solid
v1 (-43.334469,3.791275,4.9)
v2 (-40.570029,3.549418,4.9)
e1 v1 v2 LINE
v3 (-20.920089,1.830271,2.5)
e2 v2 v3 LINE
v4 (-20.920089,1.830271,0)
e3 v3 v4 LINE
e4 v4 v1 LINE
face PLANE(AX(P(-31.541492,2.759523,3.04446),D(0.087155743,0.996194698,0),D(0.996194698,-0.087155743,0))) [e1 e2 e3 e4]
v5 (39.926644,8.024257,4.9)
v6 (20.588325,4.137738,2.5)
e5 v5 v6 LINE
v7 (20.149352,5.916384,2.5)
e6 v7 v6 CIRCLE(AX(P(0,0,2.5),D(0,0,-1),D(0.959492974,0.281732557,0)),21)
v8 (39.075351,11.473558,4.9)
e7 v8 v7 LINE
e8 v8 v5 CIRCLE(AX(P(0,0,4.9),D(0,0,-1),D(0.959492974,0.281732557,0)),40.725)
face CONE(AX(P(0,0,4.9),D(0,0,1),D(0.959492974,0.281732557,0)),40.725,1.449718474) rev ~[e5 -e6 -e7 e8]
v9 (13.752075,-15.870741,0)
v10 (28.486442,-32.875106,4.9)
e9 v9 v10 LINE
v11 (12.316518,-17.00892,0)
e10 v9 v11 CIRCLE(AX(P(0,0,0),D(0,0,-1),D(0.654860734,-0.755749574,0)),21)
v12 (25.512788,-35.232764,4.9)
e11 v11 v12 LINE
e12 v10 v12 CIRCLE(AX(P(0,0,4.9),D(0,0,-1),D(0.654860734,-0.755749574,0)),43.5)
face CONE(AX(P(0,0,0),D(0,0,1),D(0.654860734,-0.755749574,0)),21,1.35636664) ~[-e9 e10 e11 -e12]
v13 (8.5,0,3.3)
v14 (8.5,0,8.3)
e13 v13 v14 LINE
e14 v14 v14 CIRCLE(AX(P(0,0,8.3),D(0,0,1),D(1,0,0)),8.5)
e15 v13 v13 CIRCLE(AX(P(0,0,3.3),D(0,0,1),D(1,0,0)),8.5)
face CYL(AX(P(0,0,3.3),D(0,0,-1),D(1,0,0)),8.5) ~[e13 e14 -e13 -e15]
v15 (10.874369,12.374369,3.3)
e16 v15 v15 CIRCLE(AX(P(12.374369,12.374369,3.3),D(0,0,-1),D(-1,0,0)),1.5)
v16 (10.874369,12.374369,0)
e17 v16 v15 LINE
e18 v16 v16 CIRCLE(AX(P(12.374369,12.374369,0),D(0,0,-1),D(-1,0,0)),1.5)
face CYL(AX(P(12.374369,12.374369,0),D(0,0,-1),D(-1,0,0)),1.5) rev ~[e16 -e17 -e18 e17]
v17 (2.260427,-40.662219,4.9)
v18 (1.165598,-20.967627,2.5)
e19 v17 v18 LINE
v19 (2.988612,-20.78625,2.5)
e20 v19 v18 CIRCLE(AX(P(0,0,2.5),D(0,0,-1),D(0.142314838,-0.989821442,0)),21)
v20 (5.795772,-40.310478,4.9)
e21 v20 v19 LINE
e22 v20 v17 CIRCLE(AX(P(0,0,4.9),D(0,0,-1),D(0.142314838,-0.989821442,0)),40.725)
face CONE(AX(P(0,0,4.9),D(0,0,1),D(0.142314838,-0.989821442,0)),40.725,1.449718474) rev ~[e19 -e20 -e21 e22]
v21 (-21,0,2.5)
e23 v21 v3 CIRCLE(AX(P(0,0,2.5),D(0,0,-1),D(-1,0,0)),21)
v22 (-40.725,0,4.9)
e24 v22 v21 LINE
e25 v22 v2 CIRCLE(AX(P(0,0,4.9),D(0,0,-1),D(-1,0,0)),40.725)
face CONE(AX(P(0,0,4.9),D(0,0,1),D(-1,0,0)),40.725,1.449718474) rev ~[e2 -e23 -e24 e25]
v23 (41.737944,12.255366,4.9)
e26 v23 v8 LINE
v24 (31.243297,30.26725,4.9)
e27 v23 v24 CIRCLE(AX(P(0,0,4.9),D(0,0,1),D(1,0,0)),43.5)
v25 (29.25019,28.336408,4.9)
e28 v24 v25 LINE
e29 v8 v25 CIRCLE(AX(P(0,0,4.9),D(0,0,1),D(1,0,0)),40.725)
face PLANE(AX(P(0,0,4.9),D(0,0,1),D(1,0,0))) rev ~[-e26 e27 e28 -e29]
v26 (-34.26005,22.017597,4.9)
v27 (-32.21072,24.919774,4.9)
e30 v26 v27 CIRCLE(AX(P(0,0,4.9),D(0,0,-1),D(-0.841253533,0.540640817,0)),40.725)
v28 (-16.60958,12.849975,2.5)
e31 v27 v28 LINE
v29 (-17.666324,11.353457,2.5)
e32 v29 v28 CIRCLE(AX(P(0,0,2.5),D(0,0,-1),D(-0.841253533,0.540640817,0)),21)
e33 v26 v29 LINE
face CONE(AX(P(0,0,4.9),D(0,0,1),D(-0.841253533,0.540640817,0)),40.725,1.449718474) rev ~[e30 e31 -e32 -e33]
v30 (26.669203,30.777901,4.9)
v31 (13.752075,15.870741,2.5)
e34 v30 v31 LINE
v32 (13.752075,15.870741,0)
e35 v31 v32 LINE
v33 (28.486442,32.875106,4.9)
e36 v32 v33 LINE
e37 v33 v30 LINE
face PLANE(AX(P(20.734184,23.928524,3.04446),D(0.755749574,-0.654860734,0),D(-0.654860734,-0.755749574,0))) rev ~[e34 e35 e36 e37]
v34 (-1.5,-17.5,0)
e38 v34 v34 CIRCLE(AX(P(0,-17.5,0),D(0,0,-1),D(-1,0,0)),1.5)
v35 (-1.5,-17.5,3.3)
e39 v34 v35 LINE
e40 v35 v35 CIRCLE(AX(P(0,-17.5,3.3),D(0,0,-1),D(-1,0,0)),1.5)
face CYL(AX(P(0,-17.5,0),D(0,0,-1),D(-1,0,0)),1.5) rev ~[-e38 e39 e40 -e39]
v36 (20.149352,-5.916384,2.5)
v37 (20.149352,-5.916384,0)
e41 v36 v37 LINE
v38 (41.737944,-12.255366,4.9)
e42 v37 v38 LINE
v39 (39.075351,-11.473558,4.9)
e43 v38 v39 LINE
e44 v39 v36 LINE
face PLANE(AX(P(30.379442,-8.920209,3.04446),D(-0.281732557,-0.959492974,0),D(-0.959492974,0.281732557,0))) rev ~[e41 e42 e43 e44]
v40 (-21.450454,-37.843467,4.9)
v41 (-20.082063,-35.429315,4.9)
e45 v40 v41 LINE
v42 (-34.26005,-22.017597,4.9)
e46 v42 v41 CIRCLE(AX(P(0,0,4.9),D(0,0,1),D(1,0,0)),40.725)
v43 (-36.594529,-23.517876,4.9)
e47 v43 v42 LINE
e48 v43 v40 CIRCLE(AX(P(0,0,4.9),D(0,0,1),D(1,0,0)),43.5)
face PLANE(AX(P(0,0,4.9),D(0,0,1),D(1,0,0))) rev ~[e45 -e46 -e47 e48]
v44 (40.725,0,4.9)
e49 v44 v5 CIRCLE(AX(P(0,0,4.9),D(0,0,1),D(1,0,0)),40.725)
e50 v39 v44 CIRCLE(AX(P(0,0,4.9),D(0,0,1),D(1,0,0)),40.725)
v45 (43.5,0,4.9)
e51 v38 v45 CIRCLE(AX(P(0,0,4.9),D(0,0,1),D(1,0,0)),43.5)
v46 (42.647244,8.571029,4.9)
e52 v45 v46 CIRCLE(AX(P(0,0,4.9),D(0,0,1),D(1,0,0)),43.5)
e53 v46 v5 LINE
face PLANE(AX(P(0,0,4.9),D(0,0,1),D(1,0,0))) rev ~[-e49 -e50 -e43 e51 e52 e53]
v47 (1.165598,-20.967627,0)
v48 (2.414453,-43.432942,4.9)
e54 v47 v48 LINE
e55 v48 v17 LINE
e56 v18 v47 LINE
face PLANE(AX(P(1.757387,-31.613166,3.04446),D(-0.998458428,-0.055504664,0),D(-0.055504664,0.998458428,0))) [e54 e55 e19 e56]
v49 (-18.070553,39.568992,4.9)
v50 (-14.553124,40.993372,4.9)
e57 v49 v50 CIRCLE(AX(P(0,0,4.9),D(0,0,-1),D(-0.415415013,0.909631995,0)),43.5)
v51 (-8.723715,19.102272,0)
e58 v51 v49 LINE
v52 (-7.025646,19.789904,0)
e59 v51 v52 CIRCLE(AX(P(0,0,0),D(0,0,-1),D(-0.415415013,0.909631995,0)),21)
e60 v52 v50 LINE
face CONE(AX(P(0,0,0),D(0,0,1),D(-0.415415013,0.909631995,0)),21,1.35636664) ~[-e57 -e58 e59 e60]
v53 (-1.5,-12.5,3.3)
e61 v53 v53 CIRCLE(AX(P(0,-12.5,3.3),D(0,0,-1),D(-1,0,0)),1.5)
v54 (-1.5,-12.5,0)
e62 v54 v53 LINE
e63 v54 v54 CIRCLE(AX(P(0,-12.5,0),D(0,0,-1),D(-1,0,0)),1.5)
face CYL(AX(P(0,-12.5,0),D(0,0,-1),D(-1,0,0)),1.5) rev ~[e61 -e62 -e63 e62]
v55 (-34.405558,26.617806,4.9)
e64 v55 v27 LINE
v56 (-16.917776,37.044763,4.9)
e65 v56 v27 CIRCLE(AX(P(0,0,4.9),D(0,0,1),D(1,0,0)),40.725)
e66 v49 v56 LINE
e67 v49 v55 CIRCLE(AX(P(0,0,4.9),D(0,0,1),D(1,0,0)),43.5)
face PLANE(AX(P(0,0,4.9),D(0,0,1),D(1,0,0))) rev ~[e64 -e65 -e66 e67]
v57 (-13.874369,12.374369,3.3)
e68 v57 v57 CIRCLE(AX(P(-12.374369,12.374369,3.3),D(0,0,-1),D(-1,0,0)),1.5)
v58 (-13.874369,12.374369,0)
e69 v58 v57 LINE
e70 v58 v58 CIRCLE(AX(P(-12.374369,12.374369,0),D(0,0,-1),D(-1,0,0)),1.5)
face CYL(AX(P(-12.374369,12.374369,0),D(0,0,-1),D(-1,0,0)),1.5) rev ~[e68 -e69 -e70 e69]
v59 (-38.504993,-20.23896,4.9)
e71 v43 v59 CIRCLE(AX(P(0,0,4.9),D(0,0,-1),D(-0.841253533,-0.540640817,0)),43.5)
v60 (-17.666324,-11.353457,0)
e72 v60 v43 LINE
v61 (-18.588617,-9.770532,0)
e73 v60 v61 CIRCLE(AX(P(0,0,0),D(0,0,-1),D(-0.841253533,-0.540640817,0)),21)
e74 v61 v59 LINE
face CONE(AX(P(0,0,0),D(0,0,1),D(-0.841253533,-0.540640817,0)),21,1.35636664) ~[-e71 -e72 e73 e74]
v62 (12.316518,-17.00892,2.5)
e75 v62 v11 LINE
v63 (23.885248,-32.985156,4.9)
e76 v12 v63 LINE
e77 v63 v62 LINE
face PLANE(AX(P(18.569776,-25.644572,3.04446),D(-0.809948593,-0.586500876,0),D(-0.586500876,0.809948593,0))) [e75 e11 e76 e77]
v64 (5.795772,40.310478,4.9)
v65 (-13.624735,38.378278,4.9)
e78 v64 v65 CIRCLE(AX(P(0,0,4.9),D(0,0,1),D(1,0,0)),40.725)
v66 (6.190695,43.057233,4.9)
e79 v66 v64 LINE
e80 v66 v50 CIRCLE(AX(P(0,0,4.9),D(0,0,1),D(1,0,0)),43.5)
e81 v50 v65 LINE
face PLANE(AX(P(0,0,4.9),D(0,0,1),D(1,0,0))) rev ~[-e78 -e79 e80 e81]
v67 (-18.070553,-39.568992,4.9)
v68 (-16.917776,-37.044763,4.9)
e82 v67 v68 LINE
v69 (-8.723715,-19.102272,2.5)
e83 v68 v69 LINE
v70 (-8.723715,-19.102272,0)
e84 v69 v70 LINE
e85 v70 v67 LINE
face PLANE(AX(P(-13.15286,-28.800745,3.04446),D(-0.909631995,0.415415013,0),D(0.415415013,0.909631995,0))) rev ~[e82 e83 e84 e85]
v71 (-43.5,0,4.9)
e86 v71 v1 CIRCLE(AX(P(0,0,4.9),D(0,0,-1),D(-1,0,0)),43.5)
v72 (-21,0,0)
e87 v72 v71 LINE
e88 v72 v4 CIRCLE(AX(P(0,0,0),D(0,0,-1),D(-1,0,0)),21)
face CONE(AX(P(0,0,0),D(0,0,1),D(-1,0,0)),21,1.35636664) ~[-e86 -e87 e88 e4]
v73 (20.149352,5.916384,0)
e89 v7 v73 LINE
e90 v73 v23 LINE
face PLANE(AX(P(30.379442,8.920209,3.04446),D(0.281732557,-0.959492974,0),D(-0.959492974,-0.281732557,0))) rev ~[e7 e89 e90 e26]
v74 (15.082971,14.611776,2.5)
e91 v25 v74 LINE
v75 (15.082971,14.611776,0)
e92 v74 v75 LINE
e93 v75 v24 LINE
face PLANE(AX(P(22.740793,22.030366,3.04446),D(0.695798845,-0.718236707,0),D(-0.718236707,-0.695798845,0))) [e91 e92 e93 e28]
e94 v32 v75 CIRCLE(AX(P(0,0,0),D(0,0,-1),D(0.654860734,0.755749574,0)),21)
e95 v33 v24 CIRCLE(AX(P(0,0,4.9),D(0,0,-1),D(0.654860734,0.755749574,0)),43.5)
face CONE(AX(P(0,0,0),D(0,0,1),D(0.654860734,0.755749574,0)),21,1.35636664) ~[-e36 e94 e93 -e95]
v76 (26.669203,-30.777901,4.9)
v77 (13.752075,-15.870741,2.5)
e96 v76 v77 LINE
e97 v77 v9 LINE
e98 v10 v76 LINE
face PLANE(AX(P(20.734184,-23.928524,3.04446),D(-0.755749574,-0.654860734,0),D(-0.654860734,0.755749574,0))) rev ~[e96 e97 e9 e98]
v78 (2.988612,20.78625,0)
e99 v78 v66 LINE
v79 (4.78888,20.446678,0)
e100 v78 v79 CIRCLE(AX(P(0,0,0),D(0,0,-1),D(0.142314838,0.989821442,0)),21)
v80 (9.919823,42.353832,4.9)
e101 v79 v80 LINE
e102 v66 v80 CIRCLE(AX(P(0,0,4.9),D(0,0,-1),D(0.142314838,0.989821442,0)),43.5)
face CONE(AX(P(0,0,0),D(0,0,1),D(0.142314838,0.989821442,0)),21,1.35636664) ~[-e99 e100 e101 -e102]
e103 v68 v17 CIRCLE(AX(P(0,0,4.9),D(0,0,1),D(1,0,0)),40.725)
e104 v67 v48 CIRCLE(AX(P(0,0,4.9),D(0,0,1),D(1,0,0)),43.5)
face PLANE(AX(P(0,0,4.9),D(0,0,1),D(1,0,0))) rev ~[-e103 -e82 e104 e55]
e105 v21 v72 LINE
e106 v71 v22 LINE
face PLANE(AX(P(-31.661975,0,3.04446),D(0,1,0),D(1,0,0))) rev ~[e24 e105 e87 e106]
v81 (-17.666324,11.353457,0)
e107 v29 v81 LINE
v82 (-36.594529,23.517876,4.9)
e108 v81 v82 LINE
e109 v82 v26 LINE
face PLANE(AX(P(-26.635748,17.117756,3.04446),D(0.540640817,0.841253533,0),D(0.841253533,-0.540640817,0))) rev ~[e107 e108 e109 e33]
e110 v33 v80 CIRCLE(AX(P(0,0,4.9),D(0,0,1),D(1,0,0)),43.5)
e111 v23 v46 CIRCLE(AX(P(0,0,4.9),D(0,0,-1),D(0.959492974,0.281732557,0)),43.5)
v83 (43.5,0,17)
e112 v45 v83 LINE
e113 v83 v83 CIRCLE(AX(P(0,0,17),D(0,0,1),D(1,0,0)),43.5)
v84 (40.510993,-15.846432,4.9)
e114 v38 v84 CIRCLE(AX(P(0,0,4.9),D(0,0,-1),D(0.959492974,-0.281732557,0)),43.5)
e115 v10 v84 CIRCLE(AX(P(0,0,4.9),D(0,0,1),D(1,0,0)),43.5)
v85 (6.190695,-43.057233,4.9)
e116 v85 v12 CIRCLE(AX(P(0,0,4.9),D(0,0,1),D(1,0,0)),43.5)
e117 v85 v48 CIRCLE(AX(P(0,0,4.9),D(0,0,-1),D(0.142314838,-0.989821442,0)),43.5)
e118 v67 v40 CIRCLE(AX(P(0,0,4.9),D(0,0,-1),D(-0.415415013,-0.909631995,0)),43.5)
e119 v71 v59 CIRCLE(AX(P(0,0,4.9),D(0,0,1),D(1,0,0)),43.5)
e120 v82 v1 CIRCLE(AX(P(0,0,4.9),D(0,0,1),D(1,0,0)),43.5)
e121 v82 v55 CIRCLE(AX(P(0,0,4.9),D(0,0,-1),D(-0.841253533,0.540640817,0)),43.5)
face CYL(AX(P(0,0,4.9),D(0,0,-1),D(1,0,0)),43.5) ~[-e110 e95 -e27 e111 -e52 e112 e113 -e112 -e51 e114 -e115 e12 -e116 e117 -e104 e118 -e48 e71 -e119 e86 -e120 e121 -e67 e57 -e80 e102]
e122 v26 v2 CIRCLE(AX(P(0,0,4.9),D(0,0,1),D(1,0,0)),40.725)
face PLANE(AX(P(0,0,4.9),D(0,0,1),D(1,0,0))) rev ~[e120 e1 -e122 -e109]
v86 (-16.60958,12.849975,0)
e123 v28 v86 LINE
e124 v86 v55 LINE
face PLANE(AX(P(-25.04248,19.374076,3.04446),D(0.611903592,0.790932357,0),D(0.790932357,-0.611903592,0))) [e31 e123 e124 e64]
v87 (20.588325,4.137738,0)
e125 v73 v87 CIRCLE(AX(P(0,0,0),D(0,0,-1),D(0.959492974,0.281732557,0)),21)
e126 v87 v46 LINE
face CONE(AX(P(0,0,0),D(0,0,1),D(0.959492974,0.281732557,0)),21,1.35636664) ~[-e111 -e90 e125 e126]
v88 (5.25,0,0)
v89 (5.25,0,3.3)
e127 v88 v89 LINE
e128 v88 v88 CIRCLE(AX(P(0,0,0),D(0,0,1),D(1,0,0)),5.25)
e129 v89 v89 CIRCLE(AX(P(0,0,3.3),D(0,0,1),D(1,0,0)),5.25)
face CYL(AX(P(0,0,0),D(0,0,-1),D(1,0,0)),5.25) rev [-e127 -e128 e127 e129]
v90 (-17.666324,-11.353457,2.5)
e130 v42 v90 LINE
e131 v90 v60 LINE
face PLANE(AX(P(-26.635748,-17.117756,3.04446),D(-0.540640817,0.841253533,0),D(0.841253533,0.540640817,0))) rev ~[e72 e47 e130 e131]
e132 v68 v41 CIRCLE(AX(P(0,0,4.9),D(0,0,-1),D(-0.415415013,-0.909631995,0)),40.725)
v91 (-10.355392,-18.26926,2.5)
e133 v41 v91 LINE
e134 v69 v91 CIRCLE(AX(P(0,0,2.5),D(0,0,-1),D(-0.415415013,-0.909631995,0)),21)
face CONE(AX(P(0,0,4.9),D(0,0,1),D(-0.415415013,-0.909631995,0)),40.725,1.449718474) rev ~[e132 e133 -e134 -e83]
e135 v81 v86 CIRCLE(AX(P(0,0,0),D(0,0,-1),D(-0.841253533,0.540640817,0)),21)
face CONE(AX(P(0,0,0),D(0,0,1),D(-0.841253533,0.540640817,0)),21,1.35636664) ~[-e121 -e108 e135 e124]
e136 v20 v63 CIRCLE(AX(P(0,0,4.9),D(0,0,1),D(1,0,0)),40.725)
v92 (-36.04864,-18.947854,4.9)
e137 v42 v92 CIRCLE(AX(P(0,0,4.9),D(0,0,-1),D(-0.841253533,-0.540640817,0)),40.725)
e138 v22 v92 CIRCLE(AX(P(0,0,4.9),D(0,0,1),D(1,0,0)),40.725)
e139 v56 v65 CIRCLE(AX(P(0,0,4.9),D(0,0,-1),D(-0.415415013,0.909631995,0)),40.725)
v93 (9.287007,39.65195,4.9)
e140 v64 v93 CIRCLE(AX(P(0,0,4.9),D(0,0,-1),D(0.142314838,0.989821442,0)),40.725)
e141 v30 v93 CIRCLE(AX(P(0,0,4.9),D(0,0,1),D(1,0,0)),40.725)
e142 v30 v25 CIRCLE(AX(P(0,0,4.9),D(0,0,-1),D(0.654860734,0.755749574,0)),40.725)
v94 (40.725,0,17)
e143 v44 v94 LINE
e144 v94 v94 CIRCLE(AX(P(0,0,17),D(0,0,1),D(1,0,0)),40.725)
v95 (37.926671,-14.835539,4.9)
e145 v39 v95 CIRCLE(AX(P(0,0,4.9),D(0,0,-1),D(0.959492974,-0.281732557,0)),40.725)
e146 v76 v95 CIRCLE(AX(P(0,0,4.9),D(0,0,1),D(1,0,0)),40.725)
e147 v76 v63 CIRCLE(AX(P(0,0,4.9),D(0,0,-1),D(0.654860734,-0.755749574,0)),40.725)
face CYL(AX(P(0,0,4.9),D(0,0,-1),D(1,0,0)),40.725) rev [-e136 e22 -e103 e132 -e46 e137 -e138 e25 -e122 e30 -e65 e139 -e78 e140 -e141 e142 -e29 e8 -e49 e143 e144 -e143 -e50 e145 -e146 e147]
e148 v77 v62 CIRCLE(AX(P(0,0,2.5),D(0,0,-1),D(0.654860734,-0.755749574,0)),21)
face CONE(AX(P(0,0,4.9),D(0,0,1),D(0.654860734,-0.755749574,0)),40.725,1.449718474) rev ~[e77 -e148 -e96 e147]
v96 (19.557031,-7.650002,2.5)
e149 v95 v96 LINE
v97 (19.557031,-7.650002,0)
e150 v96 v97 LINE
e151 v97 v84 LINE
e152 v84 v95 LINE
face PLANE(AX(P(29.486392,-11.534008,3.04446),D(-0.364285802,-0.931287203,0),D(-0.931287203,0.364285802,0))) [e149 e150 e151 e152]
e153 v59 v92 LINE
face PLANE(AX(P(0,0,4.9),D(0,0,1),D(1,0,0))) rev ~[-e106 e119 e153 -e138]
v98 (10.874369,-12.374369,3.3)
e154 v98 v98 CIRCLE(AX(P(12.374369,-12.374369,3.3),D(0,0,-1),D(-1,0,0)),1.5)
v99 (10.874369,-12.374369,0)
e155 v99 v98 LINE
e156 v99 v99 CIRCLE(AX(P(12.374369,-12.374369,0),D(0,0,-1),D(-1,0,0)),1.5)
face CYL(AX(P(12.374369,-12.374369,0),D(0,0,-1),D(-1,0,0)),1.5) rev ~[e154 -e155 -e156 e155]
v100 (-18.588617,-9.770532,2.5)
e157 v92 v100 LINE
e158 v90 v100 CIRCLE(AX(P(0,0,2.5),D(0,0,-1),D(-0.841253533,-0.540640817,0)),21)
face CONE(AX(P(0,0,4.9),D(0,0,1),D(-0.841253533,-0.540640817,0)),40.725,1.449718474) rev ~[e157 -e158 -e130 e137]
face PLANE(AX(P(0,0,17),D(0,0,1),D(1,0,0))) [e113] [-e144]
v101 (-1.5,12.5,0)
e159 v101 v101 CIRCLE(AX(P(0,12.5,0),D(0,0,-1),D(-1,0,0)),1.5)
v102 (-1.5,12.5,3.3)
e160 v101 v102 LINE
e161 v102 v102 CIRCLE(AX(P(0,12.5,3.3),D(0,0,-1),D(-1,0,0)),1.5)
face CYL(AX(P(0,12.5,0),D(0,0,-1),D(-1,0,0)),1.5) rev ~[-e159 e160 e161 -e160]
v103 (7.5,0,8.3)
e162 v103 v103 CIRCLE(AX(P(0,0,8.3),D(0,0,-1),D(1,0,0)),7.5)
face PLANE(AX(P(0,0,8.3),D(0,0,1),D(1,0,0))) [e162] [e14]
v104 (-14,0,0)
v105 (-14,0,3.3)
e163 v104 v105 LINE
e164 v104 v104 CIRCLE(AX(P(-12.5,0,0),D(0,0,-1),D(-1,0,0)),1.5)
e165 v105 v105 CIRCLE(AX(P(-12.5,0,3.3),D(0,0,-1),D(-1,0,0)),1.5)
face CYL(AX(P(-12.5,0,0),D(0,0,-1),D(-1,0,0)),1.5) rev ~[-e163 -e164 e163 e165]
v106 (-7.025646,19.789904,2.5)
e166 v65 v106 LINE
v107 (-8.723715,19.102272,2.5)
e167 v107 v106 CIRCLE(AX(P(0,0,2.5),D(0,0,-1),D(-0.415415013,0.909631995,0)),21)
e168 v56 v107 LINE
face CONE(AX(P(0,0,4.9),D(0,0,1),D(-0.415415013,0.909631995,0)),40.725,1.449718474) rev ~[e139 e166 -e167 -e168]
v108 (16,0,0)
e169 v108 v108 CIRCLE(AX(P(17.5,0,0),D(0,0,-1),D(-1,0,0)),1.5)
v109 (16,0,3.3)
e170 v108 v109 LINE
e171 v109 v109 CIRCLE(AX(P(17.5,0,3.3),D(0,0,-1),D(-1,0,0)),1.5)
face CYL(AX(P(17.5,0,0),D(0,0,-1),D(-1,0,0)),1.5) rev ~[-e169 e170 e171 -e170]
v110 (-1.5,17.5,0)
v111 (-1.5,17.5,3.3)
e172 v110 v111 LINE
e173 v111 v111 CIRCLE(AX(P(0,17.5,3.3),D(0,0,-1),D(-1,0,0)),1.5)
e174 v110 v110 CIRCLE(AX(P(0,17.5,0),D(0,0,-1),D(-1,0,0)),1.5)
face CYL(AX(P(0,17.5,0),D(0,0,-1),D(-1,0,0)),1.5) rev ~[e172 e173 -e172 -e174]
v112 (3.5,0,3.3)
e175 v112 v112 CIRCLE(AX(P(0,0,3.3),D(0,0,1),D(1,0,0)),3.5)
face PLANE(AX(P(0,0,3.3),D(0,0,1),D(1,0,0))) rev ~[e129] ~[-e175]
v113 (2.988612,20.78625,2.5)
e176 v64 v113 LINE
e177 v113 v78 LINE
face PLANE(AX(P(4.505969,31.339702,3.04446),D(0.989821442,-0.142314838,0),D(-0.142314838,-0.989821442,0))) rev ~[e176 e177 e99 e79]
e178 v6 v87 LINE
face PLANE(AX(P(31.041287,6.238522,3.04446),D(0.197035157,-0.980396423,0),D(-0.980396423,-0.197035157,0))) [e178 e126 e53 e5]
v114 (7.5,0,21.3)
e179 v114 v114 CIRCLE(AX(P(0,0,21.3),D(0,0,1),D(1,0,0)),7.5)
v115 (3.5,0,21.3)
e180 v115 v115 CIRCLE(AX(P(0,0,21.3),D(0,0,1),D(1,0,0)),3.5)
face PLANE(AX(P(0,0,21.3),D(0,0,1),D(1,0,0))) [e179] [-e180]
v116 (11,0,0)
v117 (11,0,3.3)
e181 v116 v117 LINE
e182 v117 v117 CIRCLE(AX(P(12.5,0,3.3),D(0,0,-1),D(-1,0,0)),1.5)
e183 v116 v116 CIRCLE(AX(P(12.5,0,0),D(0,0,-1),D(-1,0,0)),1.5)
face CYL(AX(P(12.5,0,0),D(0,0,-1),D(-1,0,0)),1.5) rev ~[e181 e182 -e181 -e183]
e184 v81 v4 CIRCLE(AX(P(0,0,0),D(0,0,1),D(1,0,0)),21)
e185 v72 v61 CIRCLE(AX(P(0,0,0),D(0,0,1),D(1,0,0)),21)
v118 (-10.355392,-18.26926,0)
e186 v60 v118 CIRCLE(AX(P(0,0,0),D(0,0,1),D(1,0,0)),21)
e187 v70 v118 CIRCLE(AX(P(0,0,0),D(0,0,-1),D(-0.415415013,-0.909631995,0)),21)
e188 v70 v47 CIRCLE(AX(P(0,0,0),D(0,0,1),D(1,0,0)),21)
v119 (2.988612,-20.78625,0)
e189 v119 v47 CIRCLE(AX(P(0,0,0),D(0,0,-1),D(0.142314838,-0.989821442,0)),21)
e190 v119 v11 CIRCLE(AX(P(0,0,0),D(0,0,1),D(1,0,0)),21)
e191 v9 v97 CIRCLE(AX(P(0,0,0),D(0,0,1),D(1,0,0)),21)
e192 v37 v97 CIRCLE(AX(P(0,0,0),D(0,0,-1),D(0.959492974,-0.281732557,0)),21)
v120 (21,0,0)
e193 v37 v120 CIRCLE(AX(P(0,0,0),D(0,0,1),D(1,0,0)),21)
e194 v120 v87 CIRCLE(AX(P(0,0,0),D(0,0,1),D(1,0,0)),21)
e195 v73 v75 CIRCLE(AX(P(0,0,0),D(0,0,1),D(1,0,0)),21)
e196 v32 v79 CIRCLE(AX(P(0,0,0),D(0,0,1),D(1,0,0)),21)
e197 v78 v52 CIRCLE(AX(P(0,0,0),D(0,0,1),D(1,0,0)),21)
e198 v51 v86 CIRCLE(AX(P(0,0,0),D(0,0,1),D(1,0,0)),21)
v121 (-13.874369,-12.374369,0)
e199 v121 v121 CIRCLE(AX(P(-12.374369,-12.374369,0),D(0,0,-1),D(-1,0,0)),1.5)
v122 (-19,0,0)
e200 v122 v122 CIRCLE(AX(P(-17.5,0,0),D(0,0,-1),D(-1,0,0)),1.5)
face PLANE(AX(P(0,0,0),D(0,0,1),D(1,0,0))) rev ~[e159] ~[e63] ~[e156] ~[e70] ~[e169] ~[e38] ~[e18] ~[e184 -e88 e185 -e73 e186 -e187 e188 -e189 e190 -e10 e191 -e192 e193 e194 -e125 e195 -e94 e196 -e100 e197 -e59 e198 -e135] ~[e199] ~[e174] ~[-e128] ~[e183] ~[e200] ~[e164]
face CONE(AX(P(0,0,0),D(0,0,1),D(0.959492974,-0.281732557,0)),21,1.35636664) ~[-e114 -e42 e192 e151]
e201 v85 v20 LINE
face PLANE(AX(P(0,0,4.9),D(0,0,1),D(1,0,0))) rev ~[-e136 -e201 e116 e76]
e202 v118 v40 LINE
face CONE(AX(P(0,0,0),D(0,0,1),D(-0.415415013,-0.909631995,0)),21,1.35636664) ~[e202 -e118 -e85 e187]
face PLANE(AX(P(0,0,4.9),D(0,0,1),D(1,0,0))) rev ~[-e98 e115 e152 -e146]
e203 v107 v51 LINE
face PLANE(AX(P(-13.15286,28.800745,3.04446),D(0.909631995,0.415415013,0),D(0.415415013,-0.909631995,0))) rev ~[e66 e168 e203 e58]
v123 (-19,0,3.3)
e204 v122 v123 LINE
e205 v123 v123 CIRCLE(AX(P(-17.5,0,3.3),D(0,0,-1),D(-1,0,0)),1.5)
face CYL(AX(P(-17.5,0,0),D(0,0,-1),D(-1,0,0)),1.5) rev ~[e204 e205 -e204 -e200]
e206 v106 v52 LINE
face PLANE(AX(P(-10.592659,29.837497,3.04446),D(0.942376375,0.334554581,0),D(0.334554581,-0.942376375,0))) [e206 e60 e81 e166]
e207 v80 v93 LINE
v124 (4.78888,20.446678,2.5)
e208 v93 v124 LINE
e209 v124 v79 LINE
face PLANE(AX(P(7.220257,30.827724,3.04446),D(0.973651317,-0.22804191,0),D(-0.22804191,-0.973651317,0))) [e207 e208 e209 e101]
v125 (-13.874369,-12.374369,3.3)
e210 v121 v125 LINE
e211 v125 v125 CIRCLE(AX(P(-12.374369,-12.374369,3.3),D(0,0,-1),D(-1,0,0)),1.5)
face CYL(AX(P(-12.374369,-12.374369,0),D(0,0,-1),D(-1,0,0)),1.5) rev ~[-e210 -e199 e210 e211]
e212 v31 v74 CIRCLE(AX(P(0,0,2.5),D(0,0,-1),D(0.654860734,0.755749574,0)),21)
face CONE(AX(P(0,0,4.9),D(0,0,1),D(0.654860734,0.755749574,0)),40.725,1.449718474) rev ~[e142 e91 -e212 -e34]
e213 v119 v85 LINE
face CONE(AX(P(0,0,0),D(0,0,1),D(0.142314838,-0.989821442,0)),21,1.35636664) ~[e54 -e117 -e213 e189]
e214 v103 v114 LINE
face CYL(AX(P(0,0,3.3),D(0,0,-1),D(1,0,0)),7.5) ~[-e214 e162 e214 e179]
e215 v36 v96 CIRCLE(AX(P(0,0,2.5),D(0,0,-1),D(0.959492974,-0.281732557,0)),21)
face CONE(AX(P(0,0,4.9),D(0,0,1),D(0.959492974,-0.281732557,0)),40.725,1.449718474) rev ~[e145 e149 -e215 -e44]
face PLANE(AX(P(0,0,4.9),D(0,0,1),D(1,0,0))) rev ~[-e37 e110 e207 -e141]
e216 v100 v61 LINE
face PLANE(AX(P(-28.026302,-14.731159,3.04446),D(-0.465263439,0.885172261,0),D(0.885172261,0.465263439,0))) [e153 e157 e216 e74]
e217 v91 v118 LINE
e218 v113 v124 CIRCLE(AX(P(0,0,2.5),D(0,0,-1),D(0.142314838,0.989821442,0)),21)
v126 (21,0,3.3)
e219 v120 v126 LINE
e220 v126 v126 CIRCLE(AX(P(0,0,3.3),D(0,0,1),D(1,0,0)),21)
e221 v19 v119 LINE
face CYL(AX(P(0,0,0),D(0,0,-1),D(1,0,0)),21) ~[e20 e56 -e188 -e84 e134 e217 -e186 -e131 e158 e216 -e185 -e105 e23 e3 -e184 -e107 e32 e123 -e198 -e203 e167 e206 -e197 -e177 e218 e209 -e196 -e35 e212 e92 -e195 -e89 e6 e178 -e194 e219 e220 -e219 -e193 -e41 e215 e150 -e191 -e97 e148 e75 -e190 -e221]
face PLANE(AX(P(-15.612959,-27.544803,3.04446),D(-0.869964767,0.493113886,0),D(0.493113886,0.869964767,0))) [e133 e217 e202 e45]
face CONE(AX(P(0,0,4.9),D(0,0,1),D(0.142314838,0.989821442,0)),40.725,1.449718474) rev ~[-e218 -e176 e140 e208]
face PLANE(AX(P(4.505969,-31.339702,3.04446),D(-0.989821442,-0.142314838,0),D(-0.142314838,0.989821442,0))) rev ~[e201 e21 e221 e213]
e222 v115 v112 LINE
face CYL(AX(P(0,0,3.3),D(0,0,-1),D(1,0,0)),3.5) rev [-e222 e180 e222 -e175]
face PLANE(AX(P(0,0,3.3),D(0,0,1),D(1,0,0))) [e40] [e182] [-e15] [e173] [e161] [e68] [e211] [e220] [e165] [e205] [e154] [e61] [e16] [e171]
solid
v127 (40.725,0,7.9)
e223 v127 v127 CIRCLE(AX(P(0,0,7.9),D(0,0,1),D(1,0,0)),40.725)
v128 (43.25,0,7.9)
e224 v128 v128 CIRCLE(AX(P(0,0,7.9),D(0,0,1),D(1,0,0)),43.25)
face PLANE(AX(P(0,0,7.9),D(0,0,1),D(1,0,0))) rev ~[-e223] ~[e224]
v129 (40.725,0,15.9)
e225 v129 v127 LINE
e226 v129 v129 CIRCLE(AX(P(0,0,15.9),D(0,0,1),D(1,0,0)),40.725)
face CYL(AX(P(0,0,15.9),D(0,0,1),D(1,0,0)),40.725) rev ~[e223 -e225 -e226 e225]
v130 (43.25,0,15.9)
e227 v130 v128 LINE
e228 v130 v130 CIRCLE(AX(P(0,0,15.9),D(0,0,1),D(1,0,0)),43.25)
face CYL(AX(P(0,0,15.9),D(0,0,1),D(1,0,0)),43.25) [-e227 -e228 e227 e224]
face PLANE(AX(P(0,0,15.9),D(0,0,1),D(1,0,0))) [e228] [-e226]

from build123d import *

# Parameters (mm, degrees)
BOSS_EXTRUDE1_START = 4.9
SKETCH1_R           = 43.5
SKETCH1_R_2         = 40.725
BOSS_EXTRUDE1_DEPTH = 12.1
SKETCH1_4_R         = 21
SKETCH1_4_R_2       = 7.5
SKETCH1_4_R_3       = 5.25
BOSS_EXTRUDE2_DEPTH = 3.3
REVOLVE1_ANGLE      = 5
CIRPATTERN1_COUNT   = 11
SKETCH3_R           = 7.5
SKETCH3_R_2         = 3.5
BOSS_EXTRUDE3_DEPTH = 18
SKETCH4_R           = 8.5
SKETCH4_R_2         = 3.5
BOSS_EXTRUDE4_DEPTH = 5
SKETCH6_R           = 1.5
CUT_EXTRUDE1_DEPTH  = 5
BOSS_EXTRUDE5_START = -1.1
SKETCH7_R           = 43.25
SKETCH7_R_2         = 40.725
BOSS_EXTRUDE5_DEPTH = 8


with BuildPart() as part:
    # Sketch1 → Boss-Extrude1 (new body)
    with BuildSketch(Plane.XY.offset(BOSS_EXTRUDE1_START)):
        Circle(SKETCH1_R)
        Circle(SKETCH1_R_2, mode=Mode.SUBTRACT)
    extrude(amount=BOSS_EXTRUDE1_DEPTH)



with BuildPart() as body_2:
    # Sketch1<4> → Boss-Extrude2 (new body)
    # profile 1 of 2: a face of its own
    with BuildSketch(Plane.XY):
        Circle(SKETCH1_4_R)
        Circle(SKETCH1_4_R_2, mode=Mode.SUBTRACT)
    # profile 2 of 2: a face of its own
    with BuildSketch(Plane.XY):
        Circle(SKETCH1_4_R_2)
        Circle(SKETCH1_4_R_3, mode=Mode.SUBTRACT)
    extrude(amount=BOSS_EXTRUDE2_DEPTH)


with BuildPart() as part_1:
    add(part.part)

    add(body_2.part)  # Revolve1 merges body 2
    # Sketch2 → Revolve1 (revolve)
    with BuildSketch(Plane(origin=(0, 0, 0), x_dir=(1, 0, 0), z_dir=(0, 1, 0))):
        Polygon((-43.5, -4.9), (-40.725, -4.9), (-21, -2.5), (-21, 0), align=None)
    revolve1 = revolve(axis=Axis((0, 0, 3.3), (0, 0, -1)), revolution_arc=REVOLVE1_ANGLE)

    # CirPattern1: Revolve1 ×11 about axis
    cirpattern1_axis = Axis((0, 0, 0), (0, 0, 1))
    for i in range(1, CIRPATTERN1_COUNT):
        add(revolve1.rotate(cirpattern1_axis, i * 360 / CIRPATTERN1_COUNT))

    # Sketch3 → Boss-Extrude3 (add)
    with BuildSketch(Plane.XY.offset(3.3)):
        Circle(SKETCH3_R)
        Circle(SKETCH3_R_2, mode=Mode.SUBTRACT)
    extrude(amount=BOSS_EXTRUDE3_DEPTH)

    # Sketch4 → Boss-Extrude4 (add)
    with BuildSketch(Plane.XY.offset(3.3)):
        Circle(SKETCH4_R)
        Circle(SKETCH4_R_2, mode=Mode.SUBTRACT)
    extrude(amount=BOSS_EXTRUDE4_DEPTH)

    # Sketch6 → Cut-Extrude1 (cut)
    with BuildSketch(Plane(origin=(0, 0, 0), x_dir=(-1, 0, 0), z_dir=(0, 0, -1))):
        with Locations((0, 12.5)):
            Circle(SKETCH6_R)
        with Locations((12.5, 0)):
            Circle(SKETCH6_R)
        with Locations((0, -12.5)):
            Circle(SKETCH6_R)
        with Locations((-12.5, 0)):
            Circle(SKETCH6_R)
        with Locations((0, 17.5)):
            Circle(SKETCH6_R)
        with Locations((12.374368671, 12.374368671)):
            Circle(SKETCH6_R)
        with Locations((17.5, 0)):
            Circle(SKETCH6_R)
        with Locations((12.374368671, -12.374368671)):
            Circle(SKETCH6_R)
        with Locations((0, -17.5)):
            Circle(SKETCH6_R)
        with Locations((-12.374368671, -12.374368671)):
            Circle(SKETCH6_R)
        with Locations((-17.5, 0)):
            Circle(SKETCH6_R)
        with Locations((-12.374368671, 12.374368671)):
            Circle(SKETCH6_R)
    extrude(amount=-CUT_EXTRUDE1_DEPTH, mode=Mode.SUBTRACT)


with BuildPart() as body_2_2:
    # Sketch7 → Boss-Extrude5 (new body)
    with BuildSketch(Plane.XY.offset(17).offset(BOSS_EXTRUDE5_START)):
        Circle(SKETCH7_R)
        Circle(SKETCH7_R_2, mode=Mode.SUBTRACT)
    extrude(amount=-BOSS_EXTRUDE5_DEPTH)


solid = Compound([part_1.part, body_2_2.part])
